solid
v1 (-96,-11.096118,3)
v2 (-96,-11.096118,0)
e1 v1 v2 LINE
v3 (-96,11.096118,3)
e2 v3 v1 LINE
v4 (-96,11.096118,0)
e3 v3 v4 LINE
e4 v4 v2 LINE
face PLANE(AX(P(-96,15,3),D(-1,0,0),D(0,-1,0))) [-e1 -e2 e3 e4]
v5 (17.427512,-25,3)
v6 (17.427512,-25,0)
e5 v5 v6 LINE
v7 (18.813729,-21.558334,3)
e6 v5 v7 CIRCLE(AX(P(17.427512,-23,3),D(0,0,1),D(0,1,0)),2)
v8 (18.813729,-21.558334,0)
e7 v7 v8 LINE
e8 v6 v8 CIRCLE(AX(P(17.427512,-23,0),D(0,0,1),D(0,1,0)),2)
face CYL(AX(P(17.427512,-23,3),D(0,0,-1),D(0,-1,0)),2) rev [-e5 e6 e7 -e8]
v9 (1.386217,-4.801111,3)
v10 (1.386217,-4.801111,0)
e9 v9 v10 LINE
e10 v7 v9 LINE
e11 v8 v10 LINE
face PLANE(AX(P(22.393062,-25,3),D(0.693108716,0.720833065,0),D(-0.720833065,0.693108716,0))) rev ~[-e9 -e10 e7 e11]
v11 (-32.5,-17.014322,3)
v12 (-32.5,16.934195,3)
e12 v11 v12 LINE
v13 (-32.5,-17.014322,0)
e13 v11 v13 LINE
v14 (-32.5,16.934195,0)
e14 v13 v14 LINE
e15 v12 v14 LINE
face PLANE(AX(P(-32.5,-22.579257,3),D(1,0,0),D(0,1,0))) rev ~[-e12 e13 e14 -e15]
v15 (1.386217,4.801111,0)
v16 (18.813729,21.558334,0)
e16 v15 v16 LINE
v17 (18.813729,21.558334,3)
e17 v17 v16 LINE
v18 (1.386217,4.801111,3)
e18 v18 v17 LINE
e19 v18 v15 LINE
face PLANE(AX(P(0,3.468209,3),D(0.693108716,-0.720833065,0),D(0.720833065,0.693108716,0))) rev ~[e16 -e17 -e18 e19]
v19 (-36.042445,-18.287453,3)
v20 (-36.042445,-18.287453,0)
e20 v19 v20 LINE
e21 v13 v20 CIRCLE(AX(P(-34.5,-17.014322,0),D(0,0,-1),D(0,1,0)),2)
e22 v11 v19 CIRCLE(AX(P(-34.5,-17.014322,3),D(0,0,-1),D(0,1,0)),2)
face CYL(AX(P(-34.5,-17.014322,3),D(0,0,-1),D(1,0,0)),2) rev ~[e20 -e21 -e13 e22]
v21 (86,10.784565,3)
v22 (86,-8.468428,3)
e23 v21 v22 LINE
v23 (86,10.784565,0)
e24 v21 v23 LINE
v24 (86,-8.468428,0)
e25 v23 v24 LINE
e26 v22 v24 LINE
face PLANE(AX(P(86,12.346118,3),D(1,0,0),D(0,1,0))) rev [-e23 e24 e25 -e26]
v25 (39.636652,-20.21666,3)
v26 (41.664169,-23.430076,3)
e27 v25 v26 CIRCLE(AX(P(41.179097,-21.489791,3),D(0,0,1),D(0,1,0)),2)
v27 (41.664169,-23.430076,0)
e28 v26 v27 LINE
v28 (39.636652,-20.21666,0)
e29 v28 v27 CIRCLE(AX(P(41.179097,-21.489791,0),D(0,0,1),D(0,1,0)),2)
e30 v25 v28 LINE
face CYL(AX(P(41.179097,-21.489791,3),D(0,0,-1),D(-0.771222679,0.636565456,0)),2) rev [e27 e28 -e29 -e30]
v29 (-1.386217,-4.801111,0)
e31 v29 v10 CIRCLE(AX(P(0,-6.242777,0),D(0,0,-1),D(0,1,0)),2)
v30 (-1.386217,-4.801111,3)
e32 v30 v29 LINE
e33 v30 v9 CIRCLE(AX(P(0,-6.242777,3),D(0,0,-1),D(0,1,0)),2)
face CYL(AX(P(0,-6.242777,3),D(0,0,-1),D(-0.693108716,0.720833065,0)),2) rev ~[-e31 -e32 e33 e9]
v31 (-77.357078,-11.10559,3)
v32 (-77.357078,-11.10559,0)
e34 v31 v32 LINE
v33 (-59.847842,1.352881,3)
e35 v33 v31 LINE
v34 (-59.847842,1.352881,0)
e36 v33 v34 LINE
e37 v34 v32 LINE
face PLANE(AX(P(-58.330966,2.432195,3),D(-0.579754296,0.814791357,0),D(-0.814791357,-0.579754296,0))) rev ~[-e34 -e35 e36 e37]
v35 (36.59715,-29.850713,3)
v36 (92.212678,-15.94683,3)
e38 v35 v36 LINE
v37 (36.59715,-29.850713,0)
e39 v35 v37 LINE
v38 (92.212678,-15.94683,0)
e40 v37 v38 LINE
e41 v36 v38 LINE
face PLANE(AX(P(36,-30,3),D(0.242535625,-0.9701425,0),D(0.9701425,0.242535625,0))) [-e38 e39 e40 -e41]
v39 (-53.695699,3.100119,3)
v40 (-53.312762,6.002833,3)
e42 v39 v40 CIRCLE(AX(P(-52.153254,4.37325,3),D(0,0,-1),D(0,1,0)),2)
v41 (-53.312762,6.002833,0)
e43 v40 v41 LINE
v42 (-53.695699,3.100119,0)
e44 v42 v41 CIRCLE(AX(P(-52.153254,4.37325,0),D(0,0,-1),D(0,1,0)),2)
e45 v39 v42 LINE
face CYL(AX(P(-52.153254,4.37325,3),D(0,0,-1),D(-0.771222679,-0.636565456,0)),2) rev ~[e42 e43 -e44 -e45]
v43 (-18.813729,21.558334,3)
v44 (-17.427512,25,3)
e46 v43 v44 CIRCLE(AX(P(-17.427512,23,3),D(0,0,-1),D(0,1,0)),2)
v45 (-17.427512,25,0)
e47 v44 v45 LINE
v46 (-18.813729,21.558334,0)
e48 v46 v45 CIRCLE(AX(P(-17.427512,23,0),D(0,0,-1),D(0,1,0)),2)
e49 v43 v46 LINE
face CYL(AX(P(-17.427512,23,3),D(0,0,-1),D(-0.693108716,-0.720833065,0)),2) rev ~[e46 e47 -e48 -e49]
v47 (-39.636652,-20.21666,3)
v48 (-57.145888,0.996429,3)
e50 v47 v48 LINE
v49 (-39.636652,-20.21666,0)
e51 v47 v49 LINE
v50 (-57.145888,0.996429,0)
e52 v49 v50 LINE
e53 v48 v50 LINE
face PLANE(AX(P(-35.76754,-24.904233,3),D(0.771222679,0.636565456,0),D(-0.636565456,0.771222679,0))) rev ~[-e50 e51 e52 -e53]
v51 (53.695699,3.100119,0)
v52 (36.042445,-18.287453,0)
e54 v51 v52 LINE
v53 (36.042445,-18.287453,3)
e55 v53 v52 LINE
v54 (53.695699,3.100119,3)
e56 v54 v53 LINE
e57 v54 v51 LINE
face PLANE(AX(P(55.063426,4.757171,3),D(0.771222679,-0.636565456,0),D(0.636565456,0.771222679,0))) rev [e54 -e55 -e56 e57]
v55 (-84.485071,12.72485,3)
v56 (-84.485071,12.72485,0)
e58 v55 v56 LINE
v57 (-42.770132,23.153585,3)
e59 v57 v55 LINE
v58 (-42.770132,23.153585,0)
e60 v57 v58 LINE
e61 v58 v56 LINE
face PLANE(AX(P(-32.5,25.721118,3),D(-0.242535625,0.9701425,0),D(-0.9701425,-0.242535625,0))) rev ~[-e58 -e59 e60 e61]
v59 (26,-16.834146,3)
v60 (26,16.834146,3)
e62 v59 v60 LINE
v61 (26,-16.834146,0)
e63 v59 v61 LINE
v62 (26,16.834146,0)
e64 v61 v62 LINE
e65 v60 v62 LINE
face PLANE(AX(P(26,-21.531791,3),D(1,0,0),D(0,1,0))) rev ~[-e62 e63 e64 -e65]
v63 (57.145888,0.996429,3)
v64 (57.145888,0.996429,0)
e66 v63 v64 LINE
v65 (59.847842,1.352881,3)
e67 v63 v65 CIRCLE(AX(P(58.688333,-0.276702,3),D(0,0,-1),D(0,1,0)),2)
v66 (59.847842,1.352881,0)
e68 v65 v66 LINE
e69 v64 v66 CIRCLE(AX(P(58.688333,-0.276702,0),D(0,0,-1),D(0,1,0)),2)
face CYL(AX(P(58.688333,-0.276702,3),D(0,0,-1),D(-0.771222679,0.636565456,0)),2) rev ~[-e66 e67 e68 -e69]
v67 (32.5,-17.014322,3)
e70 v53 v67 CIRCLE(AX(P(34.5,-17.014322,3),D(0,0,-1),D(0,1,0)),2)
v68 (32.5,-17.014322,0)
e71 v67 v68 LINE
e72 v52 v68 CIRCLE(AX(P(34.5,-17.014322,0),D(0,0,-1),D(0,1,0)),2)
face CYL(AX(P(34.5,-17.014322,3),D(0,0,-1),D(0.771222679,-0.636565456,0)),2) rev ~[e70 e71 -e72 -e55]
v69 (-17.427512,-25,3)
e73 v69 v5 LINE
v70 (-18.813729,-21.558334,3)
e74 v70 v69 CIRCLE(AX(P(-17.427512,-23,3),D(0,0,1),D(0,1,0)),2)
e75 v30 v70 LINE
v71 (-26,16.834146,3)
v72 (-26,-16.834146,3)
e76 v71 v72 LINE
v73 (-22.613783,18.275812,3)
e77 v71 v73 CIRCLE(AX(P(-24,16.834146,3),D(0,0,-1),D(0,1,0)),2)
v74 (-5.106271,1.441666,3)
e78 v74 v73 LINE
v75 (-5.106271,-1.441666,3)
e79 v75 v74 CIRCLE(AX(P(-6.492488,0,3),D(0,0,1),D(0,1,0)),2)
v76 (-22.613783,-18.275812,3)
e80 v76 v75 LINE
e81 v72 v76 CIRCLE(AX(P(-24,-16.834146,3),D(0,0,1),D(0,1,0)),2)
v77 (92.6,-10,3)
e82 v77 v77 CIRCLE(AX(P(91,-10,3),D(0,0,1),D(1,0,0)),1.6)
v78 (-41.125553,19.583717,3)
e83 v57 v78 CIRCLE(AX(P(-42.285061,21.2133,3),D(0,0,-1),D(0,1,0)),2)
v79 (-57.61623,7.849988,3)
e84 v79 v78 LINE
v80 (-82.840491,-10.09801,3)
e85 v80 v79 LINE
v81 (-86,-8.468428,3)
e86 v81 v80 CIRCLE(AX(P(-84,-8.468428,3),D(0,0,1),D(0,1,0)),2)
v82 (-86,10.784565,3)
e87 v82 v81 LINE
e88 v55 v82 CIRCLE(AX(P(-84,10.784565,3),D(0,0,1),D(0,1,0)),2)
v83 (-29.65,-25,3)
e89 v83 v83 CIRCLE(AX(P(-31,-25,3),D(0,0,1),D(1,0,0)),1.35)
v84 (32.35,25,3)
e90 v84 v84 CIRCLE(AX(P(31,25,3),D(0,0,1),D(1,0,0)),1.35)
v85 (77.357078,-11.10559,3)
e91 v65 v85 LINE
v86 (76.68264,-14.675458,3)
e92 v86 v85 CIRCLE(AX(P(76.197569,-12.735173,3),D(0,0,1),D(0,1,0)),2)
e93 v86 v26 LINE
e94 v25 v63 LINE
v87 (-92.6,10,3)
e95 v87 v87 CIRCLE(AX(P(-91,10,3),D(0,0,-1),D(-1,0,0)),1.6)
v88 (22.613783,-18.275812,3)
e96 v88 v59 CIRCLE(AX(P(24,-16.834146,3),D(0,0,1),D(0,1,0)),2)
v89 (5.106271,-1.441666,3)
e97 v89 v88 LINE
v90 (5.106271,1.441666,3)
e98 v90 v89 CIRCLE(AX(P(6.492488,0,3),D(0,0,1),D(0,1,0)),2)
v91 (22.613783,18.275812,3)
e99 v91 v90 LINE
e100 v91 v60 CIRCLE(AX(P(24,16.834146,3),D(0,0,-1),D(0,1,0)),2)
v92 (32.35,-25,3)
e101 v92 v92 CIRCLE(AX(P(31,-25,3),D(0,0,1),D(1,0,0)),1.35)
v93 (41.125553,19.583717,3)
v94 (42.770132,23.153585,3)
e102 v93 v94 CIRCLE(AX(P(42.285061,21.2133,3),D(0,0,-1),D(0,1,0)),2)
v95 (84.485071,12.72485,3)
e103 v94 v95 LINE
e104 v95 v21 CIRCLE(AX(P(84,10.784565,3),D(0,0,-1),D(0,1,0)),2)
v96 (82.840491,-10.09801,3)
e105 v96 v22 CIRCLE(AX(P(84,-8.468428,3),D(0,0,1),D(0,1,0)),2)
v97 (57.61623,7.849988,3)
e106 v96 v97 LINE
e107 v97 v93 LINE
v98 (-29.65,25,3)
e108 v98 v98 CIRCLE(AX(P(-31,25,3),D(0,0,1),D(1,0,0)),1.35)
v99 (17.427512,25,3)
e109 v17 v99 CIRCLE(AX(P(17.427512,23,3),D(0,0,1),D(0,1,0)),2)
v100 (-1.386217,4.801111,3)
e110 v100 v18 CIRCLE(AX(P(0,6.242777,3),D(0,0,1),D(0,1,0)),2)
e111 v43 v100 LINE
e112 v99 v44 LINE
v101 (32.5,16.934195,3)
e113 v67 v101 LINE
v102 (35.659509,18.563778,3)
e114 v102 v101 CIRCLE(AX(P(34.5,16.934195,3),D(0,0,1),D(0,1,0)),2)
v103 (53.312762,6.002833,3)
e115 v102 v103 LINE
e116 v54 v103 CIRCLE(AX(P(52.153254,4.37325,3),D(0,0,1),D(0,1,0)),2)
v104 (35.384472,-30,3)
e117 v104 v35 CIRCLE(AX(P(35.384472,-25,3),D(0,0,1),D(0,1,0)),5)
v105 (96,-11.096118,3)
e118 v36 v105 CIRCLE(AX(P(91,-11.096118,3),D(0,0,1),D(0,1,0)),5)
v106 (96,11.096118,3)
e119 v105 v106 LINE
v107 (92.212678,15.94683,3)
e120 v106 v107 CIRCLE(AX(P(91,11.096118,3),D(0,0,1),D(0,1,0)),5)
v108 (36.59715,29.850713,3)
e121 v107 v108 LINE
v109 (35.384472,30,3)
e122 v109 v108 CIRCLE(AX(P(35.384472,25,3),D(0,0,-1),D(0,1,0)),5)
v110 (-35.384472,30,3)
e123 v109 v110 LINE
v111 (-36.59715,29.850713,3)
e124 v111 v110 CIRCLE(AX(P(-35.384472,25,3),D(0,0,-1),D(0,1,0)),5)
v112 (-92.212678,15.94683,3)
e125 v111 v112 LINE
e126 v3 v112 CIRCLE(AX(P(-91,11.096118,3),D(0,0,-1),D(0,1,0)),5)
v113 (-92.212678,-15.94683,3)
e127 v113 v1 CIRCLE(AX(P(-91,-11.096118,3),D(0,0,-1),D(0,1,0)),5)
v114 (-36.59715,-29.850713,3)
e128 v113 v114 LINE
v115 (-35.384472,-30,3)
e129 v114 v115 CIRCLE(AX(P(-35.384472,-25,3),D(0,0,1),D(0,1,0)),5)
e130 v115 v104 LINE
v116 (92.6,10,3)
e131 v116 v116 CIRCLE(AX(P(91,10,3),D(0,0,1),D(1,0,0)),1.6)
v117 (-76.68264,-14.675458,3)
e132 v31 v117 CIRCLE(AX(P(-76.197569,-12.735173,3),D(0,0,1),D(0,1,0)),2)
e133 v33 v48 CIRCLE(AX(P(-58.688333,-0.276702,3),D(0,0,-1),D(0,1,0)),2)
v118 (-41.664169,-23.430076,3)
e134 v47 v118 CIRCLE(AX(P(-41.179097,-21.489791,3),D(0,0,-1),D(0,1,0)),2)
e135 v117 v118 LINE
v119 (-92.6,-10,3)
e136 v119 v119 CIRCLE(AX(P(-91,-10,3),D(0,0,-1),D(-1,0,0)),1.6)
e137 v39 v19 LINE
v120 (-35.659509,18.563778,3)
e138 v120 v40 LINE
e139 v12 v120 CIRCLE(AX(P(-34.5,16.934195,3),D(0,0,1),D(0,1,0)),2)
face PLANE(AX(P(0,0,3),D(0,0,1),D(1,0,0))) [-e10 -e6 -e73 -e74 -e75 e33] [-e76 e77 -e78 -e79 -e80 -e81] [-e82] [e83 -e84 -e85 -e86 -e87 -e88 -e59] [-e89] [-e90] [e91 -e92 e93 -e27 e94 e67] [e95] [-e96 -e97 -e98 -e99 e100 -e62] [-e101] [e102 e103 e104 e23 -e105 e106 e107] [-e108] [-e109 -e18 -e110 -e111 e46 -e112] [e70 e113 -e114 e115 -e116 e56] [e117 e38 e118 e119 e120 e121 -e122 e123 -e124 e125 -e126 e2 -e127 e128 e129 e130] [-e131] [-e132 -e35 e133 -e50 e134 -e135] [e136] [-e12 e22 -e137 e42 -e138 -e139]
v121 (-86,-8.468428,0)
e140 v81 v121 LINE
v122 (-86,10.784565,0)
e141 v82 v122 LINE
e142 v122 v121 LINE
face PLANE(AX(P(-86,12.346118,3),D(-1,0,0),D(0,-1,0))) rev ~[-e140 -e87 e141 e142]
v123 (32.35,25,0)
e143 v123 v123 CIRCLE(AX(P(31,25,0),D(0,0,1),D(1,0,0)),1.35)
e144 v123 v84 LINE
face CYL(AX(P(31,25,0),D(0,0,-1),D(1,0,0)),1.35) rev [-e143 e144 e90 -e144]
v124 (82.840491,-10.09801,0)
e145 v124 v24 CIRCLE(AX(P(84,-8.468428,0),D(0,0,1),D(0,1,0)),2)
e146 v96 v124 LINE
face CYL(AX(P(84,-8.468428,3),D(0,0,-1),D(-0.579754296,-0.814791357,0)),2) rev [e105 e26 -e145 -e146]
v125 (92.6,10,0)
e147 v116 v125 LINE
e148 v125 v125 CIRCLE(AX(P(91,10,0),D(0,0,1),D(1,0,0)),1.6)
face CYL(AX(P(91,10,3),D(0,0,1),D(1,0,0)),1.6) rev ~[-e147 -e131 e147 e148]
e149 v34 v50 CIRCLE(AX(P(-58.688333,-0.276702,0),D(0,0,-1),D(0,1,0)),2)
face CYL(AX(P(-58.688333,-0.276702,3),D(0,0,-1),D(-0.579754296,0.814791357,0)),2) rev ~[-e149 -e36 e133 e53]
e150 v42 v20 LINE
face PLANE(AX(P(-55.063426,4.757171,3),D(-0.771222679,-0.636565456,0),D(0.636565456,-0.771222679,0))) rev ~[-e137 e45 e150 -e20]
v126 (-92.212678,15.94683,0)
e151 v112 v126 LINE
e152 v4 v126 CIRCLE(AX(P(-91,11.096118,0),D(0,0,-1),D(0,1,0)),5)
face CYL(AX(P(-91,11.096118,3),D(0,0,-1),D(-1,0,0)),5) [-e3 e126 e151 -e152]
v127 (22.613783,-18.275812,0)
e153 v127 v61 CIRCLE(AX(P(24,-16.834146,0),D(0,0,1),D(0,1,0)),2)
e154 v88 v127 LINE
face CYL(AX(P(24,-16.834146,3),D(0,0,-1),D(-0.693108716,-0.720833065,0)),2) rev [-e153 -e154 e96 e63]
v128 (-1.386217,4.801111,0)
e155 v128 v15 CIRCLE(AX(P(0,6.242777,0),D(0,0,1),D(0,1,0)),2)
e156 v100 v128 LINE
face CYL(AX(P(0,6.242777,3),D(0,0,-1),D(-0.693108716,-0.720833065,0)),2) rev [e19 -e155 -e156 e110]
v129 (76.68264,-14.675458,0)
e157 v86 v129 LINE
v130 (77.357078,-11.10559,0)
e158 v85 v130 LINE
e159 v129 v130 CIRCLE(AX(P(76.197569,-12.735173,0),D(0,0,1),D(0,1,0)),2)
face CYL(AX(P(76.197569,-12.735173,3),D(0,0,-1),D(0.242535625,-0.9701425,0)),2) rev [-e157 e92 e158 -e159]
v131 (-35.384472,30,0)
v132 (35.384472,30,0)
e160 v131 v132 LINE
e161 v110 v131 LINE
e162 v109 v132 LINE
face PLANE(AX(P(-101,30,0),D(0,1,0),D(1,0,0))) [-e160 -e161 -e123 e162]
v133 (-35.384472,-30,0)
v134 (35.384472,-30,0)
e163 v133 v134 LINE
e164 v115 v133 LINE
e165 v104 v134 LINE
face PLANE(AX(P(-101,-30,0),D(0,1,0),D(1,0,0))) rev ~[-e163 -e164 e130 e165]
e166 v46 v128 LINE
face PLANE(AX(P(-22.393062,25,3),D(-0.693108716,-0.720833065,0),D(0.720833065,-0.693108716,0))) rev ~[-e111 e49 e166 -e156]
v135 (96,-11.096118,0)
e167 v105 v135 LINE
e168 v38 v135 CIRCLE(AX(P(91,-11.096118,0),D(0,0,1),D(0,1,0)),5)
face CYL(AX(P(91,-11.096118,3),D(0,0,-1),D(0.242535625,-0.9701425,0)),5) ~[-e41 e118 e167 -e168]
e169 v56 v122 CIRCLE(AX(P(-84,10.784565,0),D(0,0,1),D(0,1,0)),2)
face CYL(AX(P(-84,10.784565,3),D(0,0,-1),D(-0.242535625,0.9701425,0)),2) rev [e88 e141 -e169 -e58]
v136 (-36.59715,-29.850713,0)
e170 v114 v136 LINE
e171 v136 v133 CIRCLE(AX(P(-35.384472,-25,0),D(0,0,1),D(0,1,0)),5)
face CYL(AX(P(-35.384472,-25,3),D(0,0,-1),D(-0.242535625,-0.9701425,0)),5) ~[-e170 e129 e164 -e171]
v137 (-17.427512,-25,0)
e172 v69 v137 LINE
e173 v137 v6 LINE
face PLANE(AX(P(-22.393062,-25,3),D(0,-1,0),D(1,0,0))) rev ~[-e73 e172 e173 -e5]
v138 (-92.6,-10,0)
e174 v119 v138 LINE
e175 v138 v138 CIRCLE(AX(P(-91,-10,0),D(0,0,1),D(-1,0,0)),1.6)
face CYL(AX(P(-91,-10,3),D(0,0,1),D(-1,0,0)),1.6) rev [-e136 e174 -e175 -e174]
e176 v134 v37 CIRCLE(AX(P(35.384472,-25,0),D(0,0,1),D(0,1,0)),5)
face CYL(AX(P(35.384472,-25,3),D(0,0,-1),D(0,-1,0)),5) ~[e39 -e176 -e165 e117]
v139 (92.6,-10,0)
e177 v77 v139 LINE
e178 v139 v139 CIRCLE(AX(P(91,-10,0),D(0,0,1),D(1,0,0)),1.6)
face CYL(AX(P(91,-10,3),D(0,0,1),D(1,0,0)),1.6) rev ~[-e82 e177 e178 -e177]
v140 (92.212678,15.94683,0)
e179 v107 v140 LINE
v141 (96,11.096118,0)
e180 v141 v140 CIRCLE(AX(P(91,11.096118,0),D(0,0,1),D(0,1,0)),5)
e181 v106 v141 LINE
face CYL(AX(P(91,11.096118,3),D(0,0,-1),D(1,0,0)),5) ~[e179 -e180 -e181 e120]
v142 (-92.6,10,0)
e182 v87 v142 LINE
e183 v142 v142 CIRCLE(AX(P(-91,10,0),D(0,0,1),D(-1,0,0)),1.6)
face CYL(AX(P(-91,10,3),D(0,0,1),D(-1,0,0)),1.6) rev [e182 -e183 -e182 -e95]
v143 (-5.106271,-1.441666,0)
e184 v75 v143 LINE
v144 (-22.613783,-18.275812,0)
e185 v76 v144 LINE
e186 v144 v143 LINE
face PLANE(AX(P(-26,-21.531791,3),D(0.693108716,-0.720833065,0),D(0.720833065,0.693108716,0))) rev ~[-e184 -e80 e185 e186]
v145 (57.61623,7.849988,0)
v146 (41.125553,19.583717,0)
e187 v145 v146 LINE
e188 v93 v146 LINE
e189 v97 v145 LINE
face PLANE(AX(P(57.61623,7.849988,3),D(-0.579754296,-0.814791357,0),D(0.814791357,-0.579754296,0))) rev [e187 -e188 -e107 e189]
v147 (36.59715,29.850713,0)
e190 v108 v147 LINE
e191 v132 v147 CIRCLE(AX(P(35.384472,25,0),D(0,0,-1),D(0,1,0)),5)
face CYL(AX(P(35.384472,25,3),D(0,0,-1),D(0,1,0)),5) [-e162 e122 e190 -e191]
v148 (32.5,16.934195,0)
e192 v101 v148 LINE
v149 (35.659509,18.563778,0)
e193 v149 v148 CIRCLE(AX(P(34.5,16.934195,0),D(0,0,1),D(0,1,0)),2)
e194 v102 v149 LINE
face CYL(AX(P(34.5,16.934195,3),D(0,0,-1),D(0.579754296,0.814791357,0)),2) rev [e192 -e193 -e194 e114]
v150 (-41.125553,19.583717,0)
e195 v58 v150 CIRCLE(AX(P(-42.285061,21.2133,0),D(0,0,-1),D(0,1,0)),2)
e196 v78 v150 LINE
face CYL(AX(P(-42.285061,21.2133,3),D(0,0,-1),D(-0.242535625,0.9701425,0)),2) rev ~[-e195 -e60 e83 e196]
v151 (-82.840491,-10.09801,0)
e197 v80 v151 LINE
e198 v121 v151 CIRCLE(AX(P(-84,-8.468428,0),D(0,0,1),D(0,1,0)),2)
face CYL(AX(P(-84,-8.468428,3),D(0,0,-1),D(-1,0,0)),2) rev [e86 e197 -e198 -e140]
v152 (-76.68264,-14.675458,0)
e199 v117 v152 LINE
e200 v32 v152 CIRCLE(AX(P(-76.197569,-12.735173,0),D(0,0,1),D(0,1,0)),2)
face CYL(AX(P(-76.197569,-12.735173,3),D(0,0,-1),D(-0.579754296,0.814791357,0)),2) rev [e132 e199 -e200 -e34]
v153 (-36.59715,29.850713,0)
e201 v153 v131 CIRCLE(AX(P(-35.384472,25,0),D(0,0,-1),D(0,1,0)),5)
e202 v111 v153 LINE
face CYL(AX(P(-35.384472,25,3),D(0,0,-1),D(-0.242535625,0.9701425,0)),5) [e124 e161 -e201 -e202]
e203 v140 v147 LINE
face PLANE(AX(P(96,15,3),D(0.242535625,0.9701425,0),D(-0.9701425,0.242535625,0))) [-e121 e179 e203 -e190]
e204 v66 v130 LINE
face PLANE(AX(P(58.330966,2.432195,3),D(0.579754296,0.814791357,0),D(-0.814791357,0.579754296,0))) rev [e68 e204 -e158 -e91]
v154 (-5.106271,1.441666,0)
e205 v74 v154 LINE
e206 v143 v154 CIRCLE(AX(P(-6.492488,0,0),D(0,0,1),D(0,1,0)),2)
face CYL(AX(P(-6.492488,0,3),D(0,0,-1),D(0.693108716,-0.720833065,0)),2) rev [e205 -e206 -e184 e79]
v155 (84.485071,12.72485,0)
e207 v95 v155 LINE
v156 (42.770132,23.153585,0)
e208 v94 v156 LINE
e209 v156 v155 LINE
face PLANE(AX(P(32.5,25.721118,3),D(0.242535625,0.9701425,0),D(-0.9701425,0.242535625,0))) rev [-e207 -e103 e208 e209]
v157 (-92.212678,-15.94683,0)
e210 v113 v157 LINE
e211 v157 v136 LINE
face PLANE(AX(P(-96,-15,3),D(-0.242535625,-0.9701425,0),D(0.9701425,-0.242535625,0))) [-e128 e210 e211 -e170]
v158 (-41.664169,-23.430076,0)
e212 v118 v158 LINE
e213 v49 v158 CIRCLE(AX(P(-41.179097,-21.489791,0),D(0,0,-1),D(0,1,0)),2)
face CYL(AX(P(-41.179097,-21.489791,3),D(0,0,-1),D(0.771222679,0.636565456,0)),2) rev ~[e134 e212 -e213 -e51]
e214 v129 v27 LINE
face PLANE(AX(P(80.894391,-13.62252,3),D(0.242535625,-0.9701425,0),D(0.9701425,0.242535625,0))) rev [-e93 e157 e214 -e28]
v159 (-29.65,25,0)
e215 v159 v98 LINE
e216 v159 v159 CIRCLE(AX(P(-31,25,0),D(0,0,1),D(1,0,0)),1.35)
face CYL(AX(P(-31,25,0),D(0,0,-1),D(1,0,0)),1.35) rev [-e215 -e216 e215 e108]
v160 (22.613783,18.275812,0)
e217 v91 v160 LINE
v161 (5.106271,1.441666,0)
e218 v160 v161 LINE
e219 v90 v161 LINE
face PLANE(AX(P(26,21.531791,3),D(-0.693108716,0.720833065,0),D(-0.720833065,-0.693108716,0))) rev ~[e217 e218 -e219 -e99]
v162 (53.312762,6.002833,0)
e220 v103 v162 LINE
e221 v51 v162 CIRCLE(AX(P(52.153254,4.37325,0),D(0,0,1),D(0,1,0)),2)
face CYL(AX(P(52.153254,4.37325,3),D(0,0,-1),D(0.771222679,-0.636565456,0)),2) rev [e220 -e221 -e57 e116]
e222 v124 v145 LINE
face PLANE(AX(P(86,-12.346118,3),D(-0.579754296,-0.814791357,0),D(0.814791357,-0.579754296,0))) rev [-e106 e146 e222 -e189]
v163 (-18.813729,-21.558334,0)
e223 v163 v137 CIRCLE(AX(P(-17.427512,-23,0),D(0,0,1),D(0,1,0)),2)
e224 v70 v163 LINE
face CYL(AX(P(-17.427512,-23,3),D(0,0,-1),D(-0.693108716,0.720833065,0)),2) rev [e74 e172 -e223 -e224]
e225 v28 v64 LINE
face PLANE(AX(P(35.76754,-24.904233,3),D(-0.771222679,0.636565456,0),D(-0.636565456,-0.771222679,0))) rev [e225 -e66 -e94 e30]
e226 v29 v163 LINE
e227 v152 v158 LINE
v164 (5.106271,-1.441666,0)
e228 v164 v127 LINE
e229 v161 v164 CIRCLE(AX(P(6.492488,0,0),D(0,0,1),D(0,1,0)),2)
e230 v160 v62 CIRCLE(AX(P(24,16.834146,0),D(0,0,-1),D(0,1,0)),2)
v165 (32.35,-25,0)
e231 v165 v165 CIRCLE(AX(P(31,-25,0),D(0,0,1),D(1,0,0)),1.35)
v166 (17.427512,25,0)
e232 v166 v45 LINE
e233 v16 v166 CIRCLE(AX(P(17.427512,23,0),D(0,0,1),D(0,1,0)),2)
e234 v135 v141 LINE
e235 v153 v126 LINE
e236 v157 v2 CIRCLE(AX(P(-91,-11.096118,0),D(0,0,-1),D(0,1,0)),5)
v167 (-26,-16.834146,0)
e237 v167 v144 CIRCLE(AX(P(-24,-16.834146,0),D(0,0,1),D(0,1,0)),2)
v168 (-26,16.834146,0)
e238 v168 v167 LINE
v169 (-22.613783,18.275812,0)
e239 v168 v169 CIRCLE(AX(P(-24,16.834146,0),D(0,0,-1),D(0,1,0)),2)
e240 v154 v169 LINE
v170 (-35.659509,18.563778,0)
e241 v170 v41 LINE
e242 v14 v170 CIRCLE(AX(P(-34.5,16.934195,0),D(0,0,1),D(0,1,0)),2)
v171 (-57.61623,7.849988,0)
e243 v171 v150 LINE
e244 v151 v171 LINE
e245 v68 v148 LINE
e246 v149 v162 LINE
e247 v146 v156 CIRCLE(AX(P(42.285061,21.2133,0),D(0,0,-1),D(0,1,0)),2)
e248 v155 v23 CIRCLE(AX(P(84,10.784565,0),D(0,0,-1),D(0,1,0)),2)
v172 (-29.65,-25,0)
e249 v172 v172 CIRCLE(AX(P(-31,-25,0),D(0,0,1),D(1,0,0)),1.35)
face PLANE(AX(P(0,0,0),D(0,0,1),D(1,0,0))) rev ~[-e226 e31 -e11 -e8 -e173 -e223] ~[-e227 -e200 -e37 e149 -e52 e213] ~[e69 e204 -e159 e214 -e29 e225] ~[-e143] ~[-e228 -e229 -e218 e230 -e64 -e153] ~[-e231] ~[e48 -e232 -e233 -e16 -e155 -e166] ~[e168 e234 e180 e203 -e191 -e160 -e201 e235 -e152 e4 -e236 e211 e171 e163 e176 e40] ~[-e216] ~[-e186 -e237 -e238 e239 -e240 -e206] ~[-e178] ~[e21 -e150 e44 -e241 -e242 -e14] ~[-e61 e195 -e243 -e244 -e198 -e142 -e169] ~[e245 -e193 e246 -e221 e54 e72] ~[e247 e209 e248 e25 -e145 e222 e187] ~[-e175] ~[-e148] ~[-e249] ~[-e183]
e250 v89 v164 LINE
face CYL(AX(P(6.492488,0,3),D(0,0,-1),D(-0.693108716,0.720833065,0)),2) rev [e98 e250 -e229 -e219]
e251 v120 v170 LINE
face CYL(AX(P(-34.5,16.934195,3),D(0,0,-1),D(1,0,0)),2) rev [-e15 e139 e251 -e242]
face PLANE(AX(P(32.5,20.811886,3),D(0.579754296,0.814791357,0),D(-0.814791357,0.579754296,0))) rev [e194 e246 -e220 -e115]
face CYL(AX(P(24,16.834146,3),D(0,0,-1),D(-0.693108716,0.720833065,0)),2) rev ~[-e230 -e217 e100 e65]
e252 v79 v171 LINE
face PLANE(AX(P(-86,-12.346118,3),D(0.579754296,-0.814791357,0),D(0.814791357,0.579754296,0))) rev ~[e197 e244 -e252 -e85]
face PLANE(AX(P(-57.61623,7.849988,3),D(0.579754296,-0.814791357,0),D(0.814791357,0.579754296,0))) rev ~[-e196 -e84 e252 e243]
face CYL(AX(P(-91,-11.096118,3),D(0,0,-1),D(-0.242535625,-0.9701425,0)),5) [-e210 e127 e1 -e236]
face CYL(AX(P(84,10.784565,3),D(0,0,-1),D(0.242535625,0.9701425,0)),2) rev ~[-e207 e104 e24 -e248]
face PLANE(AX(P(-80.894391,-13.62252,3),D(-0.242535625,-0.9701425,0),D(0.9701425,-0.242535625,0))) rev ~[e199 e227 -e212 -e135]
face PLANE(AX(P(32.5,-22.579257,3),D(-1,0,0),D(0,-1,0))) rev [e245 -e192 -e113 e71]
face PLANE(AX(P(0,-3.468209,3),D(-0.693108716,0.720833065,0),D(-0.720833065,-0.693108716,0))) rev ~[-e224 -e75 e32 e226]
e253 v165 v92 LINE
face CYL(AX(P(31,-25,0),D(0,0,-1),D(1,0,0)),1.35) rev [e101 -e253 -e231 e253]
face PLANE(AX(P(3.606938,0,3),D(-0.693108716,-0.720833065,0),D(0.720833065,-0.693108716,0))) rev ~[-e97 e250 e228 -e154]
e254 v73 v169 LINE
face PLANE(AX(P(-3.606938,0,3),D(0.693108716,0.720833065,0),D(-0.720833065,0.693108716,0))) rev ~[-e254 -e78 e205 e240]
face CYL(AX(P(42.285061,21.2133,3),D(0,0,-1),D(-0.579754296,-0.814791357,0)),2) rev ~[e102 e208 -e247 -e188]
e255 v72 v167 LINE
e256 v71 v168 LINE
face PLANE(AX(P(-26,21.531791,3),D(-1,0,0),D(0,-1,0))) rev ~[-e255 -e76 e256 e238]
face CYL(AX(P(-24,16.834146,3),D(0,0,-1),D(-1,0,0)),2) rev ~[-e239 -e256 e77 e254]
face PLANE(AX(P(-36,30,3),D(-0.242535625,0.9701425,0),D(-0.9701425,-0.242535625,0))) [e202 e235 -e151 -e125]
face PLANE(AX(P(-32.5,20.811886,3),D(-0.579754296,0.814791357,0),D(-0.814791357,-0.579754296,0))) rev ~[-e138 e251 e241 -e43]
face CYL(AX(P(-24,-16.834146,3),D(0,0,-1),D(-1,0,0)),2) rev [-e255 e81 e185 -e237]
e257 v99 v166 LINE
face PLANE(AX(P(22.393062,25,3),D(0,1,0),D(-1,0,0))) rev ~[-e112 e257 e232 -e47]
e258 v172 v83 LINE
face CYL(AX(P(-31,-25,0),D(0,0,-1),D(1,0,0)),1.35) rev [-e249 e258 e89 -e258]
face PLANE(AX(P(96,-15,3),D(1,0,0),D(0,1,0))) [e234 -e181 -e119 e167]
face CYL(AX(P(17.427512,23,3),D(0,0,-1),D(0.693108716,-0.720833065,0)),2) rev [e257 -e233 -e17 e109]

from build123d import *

# Parameters (mm, degrees)
SKETCH_1_W          = 202
SKETCH_1_H          = 60
SKETCH_1_R          = 1.35
EXTRUDE_1_DEPTH     = 3
SKETCH_2_R          = 1.6
CUT_EXTRUDE_1_DEPTH = 10
SKETCH_3_OUTSIDE_W  = 246.148
SKETCH_3_OUTSIDE_H  = 104.148
CUT_EXTRUDE_2_DEPTH = 10
CUT_EXTRUDE_3_DEPTH = 10
CUT_EXTRUDE_4_DEPTH = 10
FILLET_1_R          = 2
FILLET_2_R          = 5


with BuildPart() as part:
    # 草图1 → 凸台-拉伸1 (new body)
    with BuildSketch(Plane.XY):
        Rectangle(SKETCH_1_W, SKETCH_1_H)
        with Locations((31, 25)):
            Circle(SKETCH_1_R, mode=Mode.SUBTRACT)
        with Locations((-31, 25)):
            Circle(SKETCH_1_R, mode=Mode.SUBTRACT)
        with Locations((-31, -25)):
            Circle(SKETCH_1_R, mode=Mode.SUBTRACT)
        with Locations((31, -25)):
            Circle(SKETCH_1_R, mode=Mode.SUBTRACT)
    extrude(amount=EXTRUDE_1_DEPTH)

    # 草图2 → 切除-拉伸1 (cut)
    with BuildSketch(Plane.XY.offset(3)):
        with Locations((91, -10)):
            Circle(SKETCH_2_R)
        with Locations((91, 10)):
            Circle(SKETCH_2_R)
    cut_extrude_1 = extrude(amount=-CUT_EXTRUDE_1_DEPTH, mode=Mode.SUBTRACT)

    # 镜向1: 切除-拉伸1 across plane
    add(cut_extrude_1.mirror(Plane(origin=(0, 0, 0), x_dir=(0, 0, 1), z_dir=(1, 0, 0))), mode=Mode.SUBTRACT)

    # 草图3 outside → 切除-拉伸2 (cut)
    with BuildSketch(Plane.XY.offset(3)):
        Rectangle(SKETCH_3_OUTSIDE_W, SKETCH_3_OUTSIDE_H)
        Polygon((-96, 15), (-96, -15), (-36, -30), (36, -30), (96, -15), (96, 15), (36, 30), (-36, 30), align=None, mode=Mode.SUBTRACT)
    extrude(amount=-CUT_EXTRUDE_2_DEPTH, mode=Mode.SUBTRACT)

    # 草图4 → 切除-拉伸3 (cut)
    with BuildSketch(Plane.XY.offset(3)):
        Polygon((-32.5, 25.721117968), (-86, 12.346117968), (-86, -12.346117968), (-57.616230147, 7.849987896), align=None)
        Polygon((-58.330965527, 2.432194903), (-80.89439135, -13.622520131), (-35.767539705, -24.904233042), align=None)
        Polygon((-32.5, -22.579257249), (-32.5, 20.811885729), (-55.063425822, 4.757170695), align=None)
    cut_extrude_3 = extrude(amount=-CUT_EXTRUDE_3_DEPTH, mode=Mode.SUBTRACT)

    # 镜向2: 切除-拉伸3 across plane
    add(cut_extrude_3.mirror(Plane(origin=(0, 0, 0), x_dir=(0, 0, 1), z_dir=(1, 0, 0))), mode=Mode.SUBTRACT)

    # 草图6 → 切除-拉伸4 (cut)
    with BuildSketch(Plane.XY.offset(3)):
        Polygon((-26, 21.531790616), (-26, -21.531790616), (-3.606937759, 0), align=None)
        Polygon((-22.393062241, 25), (0, 3.468209384), (22.393062241, 25), align=None)
        Polygon((26, 21.531790616), (3.606937759, 0), (26, -21.531790616), align=None)
        Polygon((0, -3.468209384), (-22.393062241, -25), (22.393062241, -25), align=None)
    extrude(amount=-CUT_EXTRUDE_4_DEPTH, mode=Mode.SUBTRACT)

    # 圆角1
    fillet_1_edges = [part.edges().sort_by_distance(p)[0] for p in [
        (-55.063425822, 4.757170695, 1.5),
        (-32.5, 20.811885729, 1.5),
        (-32.5, -22.579257249, 1.5),
        (-58.330965527, 2.432194903, 1.5),
        (-35.767539705, -24.904233042, 1.5),
        (-80.89439135, -13.622520131, 1.5),
        (-32.5, 25.721117968, 1.5),
        (-86, -12.346117968, 1.5),
        (-86, 12.346117968, 1.5),
        (32.5, 20.811885729, 1.5),
        (55.063425822, 4.757170695, 1.5),
        (32.5, -22.579257249, 1.5),
        (35.767539705, -24.904233042, 1.5),
        (58.330965527, 2.432194903, 1.5),
        (80.89439135, -13.622520131, 1.5),
        (86, -12.346117968, 1.5),
        (32.5, 25.721117968, 1.5),
        (86, 12.346117968, 1.5),
        (3.606937759, 0, 1.5),
        (26, 21.531790616, 1.5),
        (26, -21.531790616, 1.5),
        (0, 3.468209384, 1.5),
        (-22.393062241, 25, 1.5),
        (22.393062241, 25, 1.5),
        (-22.393062241, -25, 1.5),
        (0, -3.468209384, 1.5),
        (22.393062241, -25, 1.5),
        (-26, -21.531790616, 1.5),
        (-26, 21.531790616, 1.5),
        (-3.606937759, 0, 1.5),
    ]]
    fillet(fillet_1_edges, radius=FILLET_1_R)

    # 圆角2
    fillet_2_edges = [part.edges().sort_by_distance(p)[0] for p in [
        (-36, -30, 1.5),
        (36, -30, 1.5),
        (36, 30, 1.5),
        (-36, 30, 1.5),
        (96, 15, 1.5),
        (96, -15, 1.5),
        (-96, -15, 1.5),
        (-96, 15, 1.5),
    ]]
    fillet(fillet_2_edges, radius=FILLET_2_R)


solid = part.part
